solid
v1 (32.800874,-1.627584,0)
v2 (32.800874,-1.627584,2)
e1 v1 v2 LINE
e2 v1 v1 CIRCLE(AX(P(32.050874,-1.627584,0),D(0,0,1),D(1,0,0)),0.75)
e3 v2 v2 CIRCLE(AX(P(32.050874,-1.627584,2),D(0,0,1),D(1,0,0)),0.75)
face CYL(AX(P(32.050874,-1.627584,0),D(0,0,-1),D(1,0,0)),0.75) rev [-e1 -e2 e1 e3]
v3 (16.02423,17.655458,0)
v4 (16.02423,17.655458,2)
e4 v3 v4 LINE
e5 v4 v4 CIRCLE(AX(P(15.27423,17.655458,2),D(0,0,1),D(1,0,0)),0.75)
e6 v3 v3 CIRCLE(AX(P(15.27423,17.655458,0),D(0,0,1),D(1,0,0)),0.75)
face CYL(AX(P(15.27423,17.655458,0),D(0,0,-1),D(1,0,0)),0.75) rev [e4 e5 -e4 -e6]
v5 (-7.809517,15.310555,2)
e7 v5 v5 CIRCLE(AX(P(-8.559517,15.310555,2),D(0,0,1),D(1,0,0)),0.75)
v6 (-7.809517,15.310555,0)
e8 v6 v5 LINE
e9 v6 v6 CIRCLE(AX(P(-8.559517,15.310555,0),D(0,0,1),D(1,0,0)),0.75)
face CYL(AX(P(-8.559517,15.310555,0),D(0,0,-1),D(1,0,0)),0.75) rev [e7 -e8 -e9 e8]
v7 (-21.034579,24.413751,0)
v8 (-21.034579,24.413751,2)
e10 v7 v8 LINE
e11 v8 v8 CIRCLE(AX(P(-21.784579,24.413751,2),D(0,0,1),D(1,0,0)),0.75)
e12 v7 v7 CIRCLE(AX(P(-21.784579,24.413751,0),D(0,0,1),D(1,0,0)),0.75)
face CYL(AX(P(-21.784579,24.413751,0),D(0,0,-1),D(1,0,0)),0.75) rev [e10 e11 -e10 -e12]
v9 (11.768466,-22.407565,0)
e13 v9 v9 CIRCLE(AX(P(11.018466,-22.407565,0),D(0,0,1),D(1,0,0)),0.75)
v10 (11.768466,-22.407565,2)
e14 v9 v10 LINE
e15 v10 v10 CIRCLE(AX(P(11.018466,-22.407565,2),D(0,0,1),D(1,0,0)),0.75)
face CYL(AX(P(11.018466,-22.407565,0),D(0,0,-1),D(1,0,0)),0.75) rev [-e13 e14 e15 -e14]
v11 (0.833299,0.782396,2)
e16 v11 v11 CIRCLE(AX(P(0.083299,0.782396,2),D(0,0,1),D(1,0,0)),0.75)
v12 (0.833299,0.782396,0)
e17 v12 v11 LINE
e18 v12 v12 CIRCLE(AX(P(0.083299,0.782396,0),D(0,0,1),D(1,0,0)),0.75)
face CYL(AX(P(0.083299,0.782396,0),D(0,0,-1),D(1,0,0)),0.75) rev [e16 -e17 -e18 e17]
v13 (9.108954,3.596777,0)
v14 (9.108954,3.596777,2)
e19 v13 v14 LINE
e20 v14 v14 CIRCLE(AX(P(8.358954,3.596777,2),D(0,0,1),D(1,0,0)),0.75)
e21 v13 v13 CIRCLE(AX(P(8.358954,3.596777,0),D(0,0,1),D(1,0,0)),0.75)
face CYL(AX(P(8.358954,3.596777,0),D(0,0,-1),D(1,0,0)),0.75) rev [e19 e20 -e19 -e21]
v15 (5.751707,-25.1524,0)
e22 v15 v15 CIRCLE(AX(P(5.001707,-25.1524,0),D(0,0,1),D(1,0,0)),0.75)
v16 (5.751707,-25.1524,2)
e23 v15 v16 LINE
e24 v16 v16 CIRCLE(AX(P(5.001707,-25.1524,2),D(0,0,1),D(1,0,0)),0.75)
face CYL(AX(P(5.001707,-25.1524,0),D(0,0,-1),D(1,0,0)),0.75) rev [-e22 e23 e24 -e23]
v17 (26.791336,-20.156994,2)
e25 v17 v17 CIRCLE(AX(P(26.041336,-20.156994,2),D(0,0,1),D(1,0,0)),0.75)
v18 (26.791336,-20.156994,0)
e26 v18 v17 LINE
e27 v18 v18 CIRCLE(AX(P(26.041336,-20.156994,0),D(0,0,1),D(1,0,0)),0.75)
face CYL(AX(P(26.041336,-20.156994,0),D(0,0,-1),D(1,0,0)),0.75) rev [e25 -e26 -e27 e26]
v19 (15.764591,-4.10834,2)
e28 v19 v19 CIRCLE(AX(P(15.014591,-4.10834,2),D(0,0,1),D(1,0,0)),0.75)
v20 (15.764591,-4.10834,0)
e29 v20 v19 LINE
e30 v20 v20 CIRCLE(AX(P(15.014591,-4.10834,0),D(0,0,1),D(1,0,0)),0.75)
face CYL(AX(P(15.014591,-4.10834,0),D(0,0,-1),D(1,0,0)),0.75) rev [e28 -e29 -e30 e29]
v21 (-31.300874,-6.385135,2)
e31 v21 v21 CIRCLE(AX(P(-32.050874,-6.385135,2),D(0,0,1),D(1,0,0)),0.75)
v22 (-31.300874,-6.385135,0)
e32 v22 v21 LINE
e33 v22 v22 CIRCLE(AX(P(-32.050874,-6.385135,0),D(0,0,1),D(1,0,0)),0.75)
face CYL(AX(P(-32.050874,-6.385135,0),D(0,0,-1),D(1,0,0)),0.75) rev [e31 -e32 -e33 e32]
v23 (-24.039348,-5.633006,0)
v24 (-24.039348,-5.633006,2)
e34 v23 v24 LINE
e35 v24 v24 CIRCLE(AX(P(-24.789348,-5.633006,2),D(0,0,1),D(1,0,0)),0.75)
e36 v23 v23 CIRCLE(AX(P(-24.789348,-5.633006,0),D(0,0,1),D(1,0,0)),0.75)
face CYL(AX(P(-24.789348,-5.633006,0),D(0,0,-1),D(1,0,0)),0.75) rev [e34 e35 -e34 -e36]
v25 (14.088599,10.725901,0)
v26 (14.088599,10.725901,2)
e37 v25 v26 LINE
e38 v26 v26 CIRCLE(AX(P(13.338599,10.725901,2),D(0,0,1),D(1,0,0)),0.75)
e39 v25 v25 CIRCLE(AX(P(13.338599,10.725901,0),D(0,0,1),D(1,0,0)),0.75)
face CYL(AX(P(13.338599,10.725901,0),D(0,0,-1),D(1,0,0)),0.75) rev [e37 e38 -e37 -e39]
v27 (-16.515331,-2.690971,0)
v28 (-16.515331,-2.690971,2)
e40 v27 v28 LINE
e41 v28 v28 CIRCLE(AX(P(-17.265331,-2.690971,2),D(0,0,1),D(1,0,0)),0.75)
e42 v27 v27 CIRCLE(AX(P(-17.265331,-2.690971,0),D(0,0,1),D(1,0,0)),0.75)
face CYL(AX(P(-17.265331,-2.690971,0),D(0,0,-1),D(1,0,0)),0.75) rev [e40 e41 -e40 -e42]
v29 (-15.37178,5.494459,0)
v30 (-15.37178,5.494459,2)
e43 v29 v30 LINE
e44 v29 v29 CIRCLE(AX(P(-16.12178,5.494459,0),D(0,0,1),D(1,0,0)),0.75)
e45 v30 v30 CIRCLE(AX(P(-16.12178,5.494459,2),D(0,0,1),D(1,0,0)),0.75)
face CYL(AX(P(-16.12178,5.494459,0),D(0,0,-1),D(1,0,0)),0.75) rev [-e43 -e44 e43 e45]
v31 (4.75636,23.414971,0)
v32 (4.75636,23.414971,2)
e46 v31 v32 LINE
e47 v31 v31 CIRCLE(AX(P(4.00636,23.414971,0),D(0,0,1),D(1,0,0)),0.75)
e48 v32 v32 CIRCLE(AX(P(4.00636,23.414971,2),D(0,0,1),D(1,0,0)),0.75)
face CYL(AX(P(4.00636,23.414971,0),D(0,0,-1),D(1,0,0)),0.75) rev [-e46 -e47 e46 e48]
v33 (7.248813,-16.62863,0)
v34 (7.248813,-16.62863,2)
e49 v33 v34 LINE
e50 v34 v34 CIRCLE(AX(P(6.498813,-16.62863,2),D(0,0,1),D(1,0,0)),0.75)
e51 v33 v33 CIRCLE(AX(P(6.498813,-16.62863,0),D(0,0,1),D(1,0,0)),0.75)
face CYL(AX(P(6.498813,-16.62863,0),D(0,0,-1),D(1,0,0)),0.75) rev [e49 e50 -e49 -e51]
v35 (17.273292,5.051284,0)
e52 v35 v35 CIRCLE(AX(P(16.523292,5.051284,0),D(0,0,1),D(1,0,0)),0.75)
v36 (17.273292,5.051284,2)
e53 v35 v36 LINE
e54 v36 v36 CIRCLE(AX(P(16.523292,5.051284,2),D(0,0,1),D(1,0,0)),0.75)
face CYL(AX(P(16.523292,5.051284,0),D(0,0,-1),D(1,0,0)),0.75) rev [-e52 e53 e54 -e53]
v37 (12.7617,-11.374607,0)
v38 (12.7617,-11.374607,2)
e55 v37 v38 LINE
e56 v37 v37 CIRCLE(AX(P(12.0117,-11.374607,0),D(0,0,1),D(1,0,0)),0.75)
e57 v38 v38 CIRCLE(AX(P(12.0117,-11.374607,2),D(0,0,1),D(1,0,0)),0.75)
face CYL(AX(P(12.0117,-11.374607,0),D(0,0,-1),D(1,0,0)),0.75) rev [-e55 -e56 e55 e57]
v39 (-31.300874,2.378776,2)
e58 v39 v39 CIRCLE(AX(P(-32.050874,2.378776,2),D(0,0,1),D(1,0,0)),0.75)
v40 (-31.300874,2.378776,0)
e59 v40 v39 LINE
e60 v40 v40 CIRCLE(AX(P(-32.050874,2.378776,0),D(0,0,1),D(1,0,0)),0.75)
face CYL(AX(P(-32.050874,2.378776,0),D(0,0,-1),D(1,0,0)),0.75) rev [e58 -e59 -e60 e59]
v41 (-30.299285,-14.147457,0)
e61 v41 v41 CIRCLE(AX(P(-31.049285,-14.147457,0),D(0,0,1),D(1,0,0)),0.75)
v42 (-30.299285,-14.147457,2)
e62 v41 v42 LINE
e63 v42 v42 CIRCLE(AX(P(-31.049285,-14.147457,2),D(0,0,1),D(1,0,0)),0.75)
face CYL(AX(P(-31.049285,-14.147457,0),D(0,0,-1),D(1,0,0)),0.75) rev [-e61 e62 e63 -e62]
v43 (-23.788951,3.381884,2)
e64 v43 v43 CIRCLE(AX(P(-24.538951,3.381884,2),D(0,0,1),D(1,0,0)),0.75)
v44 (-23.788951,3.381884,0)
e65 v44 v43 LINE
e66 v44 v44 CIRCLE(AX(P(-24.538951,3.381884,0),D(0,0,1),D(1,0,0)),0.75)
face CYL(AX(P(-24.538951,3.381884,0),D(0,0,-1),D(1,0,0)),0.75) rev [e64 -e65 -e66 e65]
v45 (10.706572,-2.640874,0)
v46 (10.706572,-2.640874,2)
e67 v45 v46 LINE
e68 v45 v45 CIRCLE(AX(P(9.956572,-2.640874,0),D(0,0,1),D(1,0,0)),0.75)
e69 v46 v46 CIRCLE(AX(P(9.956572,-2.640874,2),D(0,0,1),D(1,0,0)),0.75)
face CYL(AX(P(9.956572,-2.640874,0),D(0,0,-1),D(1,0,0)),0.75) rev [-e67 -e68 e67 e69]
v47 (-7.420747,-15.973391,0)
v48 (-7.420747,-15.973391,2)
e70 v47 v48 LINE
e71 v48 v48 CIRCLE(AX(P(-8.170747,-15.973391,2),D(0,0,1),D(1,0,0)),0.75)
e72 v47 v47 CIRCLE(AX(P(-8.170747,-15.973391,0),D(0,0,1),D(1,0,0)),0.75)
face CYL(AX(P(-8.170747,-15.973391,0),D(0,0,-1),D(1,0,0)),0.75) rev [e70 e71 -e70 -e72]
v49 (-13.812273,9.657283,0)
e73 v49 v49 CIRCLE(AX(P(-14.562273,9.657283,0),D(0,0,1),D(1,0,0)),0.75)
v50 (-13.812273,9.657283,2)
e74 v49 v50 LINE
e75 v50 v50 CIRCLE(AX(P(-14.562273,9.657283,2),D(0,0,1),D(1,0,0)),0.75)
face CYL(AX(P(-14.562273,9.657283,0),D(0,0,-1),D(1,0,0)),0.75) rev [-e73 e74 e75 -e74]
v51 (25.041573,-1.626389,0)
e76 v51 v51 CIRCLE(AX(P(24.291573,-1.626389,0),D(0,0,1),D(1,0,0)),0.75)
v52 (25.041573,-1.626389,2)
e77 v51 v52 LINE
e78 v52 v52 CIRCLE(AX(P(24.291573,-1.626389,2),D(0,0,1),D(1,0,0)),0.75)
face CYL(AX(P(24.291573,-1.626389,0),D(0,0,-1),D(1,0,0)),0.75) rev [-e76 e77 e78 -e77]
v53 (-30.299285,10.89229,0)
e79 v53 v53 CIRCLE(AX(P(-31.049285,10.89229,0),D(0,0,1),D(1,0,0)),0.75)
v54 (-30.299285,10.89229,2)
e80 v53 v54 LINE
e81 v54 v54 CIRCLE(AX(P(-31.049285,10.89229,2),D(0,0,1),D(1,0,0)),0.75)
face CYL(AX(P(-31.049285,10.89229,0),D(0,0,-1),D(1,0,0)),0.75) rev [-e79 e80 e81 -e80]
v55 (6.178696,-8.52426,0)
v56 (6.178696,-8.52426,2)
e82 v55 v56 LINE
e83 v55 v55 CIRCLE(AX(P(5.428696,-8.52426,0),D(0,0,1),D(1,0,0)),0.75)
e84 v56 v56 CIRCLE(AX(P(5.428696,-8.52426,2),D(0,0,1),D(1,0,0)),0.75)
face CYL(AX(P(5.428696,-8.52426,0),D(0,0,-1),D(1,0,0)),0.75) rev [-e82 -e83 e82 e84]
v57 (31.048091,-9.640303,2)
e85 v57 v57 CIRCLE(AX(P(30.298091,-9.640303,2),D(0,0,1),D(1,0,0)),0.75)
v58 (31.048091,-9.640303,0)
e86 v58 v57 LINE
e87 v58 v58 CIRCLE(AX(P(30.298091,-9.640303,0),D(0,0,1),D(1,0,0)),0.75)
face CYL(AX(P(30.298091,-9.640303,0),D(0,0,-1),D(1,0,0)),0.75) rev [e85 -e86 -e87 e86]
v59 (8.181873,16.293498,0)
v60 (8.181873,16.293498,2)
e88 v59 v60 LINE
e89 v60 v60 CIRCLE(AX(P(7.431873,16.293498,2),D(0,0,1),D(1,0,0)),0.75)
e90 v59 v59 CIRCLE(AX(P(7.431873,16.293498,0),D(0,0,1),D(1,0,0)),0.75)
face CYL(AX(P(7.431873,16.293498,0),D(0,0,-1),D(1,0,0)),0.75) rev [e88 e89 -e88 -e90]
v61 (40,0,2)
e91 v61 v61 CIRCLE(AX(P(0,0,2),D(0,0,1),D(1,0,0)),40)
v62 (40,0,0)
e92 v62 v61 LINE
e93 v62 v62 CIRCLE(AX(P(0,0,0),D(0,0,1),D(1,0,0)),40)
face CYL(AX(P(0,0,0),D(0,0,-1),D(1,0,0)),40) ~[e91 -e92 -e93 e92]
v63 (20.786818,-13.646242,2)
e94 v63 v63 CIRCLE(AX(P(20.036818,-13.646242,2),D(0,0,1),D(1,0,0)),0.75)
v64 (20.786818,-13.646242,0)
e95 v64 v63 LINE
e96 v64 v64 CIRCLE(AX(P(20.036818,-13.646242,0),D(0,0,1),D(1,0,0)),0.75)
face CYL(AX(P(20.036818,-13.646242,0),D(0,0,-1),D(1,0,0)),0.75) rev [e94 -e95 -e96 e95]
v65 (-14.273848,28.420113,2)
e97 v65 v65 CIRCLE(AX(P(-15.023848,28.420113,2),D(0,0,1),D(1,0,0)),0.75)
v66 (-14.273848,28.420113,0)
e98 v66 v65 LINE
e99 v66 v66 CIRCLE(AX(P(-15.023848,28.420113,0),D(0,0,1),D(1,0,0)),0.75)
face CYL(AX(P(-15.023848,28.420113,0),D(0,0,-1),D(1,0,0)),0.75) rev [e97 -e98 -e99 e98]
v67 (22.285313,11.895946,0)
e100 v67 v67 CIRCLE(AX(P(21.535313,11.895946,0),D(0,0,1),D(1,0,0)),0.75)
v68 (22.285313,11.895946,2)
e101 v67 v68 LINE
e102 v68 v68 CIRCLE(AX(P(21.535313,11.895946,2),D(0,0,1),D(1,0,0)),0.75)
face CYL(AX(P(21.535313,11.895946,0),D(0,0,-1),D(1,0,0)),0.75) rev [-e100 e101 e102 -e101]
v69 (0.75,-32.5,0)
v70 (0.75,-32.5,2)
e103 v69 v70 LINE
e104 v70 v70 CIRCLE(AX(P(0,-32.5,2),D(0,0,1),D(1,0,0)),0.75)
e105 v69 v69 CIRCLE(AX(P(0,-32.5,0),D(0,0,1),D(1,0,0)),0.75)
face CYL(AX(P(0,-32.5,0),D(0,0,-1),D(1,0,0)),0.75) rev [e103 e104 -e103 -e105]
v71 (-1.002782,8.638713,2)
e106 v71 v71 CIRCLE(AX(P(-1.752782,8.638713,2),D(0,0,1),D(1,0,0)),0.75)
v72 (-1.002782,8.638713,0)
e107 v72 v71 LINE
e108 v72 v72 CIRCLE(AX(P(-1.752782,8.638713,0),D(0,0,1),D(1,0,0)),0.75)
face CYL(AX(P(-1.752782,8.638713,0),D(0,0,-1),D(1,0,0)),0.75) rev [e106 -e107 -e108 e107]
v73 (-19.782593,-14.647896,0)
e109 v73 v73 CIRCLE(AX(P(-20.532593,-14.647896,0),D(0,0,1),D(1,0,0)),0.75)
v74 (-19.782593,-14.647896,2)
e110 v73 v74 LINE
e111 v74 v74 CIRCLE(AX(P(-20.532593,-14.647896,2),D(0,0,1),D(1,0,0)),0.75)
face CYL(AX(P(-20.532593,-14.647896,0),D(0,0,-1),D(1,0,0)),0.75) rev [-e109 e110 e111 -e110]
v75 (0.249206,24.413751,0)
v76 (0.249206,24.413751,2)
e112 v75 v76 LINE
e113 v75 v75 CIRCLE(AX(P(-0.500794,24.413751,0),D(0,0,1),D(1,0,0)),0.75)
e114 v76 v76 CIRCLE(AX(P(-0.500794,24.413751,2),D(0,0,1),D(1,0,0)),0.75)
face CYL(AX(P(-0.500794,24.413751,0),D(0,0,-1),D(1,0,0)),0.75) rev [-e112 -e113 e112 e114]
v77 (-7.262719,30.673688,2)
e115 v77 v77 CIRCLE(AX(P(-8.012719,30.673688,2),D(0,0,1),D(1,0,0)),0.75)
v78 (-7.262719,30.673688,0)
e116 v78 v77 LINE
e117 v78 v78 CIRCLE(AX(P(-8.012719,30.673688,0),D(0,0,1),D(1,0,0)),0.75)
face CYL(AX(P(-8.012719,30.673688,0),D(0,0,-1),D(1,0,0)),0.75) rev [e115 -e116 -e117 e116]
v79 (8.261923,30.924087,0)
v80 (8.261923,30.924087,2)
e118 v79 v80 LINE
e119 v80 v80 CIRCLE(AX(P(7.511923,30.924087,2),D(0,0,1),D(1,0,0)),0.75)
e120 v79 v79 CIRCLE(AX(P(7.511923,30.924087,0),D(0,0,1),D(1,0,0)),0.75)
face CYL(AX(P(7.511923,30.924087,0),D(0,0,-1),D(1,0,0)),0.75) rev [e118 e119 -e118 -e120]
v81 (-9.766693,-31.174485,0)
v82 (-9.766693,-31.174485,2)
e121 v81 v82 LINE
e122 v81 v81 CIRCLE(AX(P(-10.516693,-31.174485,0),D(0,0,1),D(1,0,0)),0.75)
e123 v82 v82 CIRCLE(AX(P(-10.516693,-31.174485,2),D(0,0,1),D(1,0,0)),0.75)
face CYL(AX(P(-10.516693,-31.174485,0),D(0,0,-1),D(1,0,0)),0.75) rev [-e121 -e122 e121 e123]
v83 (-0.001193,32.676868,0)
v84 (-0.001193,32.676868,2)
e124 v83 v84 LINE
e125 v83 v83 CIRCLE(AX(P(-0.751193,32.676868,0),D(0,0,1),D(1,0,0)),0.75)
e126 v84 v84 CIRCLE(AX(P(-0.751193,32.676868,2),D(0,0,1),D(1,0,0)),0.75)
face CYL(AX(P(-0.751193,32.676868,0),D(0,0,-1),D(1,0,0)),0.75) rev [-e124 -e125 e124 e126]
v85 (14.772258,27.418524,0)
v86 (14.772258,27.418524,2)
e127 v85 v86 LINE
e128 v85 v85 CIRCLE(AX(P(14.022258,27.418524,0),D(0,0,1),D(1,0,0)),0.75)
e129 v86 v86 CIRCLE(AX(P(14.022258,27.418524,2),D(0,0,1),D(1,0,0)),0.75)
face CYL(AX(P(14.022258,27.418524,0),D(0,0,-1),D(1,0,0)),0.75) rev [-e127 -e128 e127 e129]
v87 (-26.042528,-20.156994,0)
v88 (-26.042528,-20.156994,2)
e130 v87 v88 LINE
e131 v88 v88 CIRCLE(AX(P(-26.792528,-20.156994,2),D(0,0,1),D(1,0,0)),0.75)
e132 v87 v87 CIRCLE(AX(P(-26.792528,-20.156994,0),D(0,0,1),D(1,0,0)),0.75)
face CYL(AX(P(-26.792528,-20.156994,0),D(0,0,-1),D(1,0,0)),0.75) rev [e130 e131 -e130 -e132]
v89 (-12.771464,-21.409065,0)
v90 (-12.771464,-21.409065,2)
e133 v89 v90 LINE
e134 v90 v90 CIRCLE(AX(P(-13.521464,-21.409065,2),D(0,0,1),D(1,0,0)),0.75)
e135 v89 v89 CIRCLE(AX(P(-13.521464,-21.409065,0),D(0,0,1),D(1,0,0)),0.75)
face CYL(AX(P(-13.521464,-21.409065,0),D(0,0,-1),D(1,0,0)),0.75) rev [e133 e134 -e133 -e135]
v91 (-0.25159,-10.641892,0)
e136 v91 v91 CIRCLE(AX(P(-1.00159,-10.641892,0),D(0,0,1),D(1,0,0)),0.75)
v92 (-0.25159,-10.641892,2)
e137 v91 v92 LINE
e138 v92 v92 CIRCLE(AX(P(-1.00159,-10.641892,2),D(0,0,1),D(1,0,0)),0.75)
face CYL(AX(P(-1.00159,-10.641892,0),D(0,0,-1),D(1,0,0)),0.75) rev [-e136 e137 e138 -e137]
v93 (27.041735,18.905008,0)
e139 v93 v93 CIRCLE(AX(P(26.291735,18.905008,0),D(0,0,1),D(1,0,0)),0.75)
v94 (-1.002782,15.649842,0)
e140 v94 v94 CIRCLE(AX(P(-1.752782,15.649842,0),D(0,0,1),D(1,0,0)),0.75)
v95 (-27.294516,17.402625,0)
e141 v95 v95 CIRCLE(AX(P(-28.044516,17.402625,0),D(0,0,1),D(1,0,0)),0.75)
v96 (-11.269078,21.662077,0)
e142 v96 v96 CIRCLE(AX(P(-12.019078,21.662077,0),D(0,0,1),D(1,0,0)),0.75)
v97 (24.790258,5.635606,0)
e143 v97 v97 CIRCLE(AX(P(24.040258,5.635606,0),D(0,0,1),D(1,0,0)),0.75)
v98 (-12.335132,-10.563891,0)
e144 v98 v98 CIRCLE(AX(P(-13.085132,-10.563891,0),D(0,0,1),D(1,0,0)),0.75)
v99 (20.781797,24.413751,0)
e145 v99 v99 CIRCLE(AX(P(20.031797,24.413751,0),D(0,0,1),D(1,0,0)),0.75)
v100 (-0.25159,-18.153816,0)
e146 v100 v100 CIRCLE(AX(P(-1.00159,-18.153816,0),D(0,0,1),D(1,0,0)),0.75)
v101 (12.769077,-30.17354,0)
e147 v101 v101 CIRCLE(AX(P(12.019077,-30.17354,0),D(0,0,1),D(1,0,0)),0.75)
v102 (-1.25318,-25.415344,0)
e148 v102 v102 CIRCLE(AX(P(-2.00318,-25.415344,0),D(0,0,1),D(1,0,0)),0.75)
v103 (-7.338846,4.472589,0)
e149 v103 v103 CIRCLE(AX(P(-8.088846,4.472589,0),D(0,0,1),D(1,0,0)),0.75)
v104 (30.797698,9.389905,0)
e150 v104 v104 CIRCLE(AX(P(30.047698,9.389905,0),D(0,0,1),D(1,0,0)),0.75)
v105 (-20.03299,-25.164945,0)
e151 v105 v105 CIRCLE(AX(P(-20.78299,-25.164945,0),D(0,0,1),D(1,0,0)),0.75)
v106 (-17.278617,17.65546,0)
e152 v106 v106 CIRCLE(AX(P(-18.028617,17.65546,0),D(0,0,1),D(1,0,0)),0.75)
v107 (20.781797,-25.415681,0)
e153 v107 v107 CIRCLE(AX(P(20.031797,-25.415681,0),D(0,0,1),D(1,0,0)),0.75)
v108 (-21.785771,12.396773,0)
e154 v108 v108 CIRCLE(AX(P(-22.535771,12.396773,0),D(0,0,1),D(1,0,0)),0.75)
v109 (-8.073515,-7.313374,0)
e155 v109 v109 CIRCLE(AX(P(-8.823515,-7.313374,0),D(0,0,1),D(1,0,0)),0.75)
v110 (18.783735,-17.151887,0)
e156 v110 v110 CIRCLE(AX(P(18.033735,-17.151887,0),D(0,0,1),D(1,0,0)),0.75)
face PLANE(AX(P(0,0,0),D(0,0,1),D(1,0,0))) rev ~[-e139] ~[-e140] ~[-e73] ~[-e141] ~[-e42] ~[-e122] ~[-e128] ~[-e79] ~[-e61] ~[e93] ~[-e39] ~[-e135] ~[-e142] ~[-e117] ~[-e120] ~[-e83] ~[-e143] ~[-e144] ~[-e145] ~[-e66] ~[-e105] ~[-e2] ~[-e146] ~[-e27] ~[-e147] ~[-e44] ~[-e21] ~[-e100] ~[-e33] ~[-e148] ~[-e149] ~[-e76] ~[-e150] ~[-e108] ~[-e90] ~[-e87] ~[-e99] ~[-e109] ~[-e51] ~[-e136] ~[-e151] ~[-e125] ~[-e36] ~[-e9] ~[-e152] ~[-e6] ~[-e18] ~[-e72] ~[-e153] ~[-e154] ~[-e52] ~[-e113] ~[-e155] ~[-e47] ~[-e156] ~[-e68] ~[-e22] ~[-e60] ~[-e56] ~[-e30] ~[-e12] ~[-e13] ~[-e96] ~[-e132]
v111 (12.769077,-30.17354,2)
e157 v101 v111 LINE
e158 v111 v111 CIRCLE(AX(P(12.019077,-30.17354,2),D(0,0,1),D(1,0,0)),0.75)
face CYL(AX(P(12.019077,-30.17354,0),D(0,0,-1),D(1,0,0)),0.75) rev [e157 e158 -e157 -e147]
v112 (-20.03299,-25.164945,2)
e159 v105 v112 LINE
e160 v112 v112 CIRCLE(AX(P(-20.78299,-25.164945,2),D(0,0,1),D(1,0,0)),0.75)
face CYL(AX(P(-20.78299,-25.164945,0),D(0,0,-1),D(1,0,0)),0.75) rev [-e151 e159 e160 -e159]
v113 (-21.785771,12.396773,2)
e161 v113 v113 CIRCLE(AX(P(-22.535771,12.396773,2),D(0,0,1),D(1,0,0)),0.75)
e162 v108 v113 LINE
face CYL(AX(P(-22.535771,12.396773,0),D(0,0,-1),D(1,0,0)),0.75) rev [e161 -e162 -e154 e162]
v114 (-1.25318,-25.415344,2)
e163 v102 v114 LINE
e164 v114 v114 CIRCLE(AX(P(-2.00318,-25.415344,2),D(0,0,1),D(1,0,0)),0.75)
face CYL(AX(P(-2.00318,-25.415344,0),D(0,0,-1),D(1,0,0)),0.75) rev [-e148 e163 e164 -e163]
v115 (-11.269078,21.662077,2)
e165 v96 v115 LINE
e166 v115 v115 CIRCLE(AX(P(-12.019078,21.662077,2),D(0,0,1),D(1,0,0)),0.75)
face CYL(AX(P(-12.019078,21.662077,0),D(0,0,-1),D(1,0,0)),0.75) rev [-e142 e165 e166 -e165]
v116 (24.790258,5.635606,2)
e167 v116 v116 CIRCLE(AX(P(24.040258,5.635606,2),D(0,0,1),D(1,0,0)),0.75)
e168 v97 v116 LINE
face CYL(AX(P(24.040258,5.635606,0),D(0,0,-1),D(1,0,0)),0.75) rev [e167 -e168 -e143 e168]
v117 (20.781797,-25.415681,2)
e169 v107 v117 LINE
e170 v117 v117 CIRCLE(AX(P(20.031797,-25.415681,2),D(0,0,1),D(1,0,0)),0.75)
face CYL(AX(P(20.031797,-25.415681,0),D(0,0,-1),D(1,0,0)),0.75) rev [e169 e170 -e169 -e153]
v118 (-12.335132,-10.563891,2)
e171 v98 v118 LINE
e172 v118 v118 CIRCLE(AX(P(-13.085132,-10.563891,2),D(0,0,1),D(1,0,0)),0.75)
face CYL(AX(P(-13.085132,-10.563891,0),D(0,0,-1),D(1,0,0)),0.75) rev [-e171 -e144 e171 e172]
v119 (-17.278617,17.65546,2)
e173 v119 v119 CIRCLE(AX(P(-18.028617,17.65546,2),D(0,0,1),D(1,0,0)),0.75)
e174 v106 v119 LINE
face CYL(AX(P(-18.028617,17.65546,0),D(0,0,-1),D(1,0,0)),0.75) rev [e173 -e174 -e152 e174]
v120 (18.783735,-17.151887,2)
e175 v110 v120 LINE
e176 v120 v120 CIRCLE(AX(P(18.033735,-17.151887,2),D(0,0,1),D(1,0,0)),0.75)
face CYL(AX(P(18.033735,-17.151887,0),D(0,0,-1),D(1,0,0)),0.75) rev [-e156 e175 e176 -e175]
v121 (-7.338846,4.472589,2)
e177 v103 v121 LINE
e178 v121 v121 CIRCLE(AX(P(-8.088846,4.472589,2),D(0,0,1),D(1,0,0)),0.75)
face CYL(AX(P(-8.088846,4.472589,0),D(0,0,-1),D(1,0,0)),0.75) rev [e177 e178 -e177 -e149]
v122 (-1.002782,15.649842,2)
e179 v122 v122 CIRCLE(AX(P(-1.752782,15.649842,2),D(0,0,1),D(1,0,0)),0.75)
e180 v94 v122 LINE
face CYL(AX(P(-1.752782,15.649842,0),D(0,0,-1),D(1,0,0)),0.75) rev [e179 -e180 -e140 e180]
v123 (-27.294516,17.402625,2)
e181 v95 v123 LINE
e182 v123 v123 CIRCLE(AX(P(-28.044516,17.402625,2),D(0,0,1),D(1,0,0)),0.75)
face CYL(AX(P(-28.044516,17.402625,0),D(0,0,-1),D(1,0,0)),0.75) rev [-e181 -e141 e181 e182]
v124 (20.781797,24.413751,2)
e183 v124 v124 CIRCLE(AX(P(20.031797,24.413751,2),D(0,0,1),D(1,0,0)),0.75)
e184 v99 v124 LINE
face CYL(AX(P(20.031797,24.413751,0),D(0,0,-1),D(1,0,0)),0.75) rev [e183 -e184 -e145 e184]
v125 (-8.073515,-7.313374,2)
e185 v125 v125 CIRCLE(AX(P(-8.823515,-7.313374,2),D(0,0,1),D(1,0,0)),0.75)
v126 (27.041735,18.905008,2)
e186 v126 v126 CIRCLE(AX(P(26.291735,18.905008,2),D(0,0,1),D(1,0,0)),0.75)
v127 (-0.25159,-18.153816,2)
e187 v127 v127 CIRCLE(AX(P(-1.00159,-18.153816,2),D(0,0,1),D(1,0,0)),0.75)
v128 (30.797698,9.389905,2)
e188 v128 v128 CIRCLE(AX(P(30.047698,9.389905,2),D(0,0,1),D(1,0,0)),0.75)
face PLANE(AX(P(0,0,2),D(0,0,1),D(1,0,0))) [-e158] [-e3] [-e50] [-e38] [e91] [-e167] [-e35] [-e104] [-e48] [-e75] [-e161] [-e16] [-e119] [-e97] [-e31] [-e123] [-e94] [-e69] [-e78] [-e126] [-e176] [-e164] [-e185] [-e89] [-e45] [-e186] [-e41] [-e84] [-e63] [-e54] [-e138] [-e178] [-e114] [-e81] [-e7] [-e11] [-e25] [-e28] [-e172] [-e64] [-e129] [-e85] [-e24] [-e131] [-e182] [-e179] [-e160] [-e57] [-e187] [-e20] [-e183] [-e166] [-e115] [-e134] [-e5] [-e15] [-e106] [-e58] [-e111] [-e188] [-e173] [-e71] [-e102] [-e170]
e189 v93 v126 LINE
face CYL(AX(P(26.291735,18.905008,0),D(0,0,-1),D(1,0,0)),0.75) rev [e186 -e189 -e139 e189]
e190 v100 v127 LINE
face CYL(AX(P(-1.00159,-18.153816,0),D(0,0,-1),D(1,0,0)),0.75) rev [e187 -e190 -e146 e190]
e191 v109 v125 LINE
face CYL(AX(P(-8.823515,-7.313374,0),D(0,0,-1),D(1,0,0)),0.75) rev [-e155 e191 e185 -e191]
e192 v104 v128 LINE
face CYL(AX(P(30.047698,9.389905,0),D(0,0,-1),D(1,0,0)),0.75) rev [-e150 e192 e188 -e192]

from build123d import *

# Parameters (mm, degrees)
F0_R     = 40
F0_R_2   = 0.75
F1_DEPTH = 2


with BuildPart() as f1:
    # F0 (on Top) → F1 (new body)
    with BuildSketch(Plane.XY):
        Circle(F0_R)
        with Locations((-20.78299, -25.164945)):
            Circle(F0_R_2, mode=Mode.SUBTRACT)
        with Locations((-26.792528, -20.156994)):
            Circle(F0_R_2, mode=Mode.SUBTRACT)
        with Locations((-10.516693, -31.174485)):
            Circle(F0_R_2, mode=Mode.SUBTRACT)
        with Locations((-13.521464, -21.409065)):
            Circle(F0_R_2, mode=Mode.SUBTRACT)
        with Locations((-2.00318, -25.415344)):
            Circle(F0_R_2, mode=Mode.SUBTRACT)
        with Locations((-31.049285, -14.147457)):
            Circle(F0_R_2, mode=Mode.SUBTRACT)
        with Locations((-20.532593, -14.647896)):
            Circle(F0_R_2, mode=Mode.SUBTRACT)
        with Locations((-32.050874, -6.385135)):
            Circle(F0_R_2, mode=Mode.SUBTRACT)
        with Locations((-24.789348, -5.633006)):
            Circle(F0_R_2, mode=Mode.SUBTRACT)
        with Locations((-13.085132, -10.563891)):
            Circle(F0_R_2, mode=Mode.SUBTRACT)
        with Locations((-8.170747, -15.973391)):
            Circle(F0_R_2, mode=Mode.SUBTRACT)
        with Locations((-1.00159, -18.153816)):
            Circle(F0_R_2, mode=Mode.SUBTRACT)
        with Locations((-1.00159, -10.641892)):
            Circle(F0_R_2, mode=Mode.SUBTRACT)
        with Locations((-17.265331, -2.690971)):
            Circle(F0_R_2, mode=Mode.SUBTRACT)
        with Locations((-8.823515, -7.313374)):
            Circle(F0_R_2, mode=Mode.SUBTRACT)
        with Locations((0, -32.5)):
            Circle(F0_R_2, mode=Mode.SUBTRACT)
        with Locations((12.019077, -30.17354)):
            Circle(F0_R_2, mode=Mode.SUBTRACT)
        with Locations((5.001707, -25.1524)):
            Circle(F0_R_2, mode=Mode.SUBTRACT)
        with Locations((11.018466, -22.407565)):
            Circle(F0_R_2, mode=Mode.SUBTRACT)
        with Locations((20.031797, -25.415681)):
            Circle(F0_R_2, mode=Mode.SUBTRACT)
        with Locations((26.041336, -20.156994)):
            Circle(F0_R_2, mode=Mode.SUBTRACT)
        with Locations((6.498813, -16.62863)):
            Circle(F0_R_2, mode=Mode.SUBTRACT)
        with Locations((18.033735, -17.151887)):
            Circle(F0_R_2, mode=Mode.SUBTRACT)
        with Locations((12.0117, -11.374607)):
            Circle(F0_R_2, mode=Mode.SUBTRACT)
        with Locations((5.428696, -8.52426)):
            Circle(F0_R_2, mode=Mode.SUBTRACT)
        with Locations((9.956572, -2.640874)):
            Circle(F0_R_2, mode=Mode.SUBTRACT)
        with Locations((15.014591, -4.10834)):
            Circle(F0_R_2, mode=Mode.SUBTRACT)
        with Locations((20.036818, -13.646242)):
            Circle(F0_R_2, mode=Mode.SUBTRACT)
        with Locations((24.291573, -1.626389)):
            Circle(F0_R_2, mode=Mode.SUBTRACT)
        with Locations((30.298091, -9.640303)):
            Circle(F0_R_2, mode=Mode.SUBTRACT)
        with Locations((32.050874, -1.627584)):
            Circle(F0_R_2, mode=Mode.SUBTRACT)
        with Locations((-32.050874, 2.378776)):
            Circle(F0_R_2, mode=Mode.SUBTRACT)
        with Locations((-24.538951, 3.381884)):
            Circle(F0_R_2, mode=Mode.SUBTRACT)
        with Locations((-31.049285, 10.89229)):
            Circle(F0_R_2, mode=Mode.SUBTRACT)
        with Locations((-22.535771, 12.396773)):
            Circle(F0_R_2, mode=Mode.SUBTRACT)
        with Locations((-28.044516, 17.402625)):
            Circle(F0_R_2, mode=Mode.SUBTRACT)
        with Locations((-16.12178, 5.494459)):
            Circle(F0_R_2, mode=Mode.SUBTRACT)
        with Locations((-14.562273, 9.657283)):
            Circle(F0_R_2, mode=Mode.SUBTRACT)
        with Locations((-8.088846, 4.472589)):
            Circle(F0_R_2, mode=Mode.SUBTRACT)
        with Locations((-1.752782, 8.638713)):
            Circle(F0_R_2, mode=Mode.SUBTRACT)
        with Locations((-18.028617, 17.65546)):
            Circle(F0_R_2, mode=Mode.SUBTRACT)
        with Locations((-8.559517, 15.310555)):
            Circle(F0_R_2, mode=Mode.SUBTRACT)
        with Locations((-1.752782, 15.649842)):
            Circle(F0_R_2, mode=Mode.SUBTRACT)
        with Locations((-21.784579, 24.413751)):
            Circle(F0_R_2, mode=Mode.SUBTRACT)
        with Locations((-12.019078, 21.662077)):
            Circle(F0_R_2, mode=Mode.SUBTRACT)
        with Locations((-15.023848, 28.420113)):
            Circle(F0_R_2, mode=Mode.SUBTRACT)
        with Locations((-0.500794, 24.413751)):
            Circle(F0_R_2, mode=Mode.SUBTRACT)
        with Locations((-8.012719, 30.673688)):
            Circle(F0_R_2, mode=Mode.SUBTRACT)
        with Locations((-0.751193, 32.676868)):
            Circle(F0_R_2, mode=Mode.SUBTRACT)
        with Locations((0.083299, 0.782396)):
            Circle(F0_R_2, mode=Mode.SUBTRACT)
        with Locations((8.358954, 3.596777)):
            Circle(F0_R_2, mode=Mode.SUBTRACT)
        with Locations((16.523292, 5.051284)):
            Circle(F0_R_2, mode=Mode.SUBTRACT)
        with Locations((7.431873, 16.293498)):
            Circle(F0_R_2, mode=Mode.SUBTRACT)
        with Locations((13.338599, 10.725901)):
            Circle(F0_R_2, mode=Mode.SUBTRACT)
        with Locations((15.27423, 17.655458)):
            Circle(F0_R_2, mode=Mode.SUBTRACT)
        with Locations((24.040258, 5.635606)):
            Circle(F0_R_2, mode=Mode.SUBTRACT)
        with Locations((30.047698, 9.389905)):
            Circle(F0_R_2, mode=Mode.SUBTRACT)
        with Locations((21.535313, 11.895946)):
            Circle(F0_R_2, mode=Mode.SUBTRACT)
        with Locations((26.291735, 18.905008)):
            Circle(F0_R_2, mode=Mode.SUBTRACT)
        with Locations((4.00636, 23.414971)):
            Circle(F0_R_2, mode=Mode.SUBTRACT)
        with Locations((14.022258, 27.418524)):
            Circle(F0_R_2, mode=Mode.SUBTRACT)
        with Locations((7.511923, 30.924087)):
            Circle(F0_R_2, mode=Mode.SUBTRACT)
        with Locations((20.031797, 24.413751)):
            Circle(F0_R_2, mode=Mode.SUBTRACT)
    extrude(amount=F1_DEPTH)


solid = f1.part
